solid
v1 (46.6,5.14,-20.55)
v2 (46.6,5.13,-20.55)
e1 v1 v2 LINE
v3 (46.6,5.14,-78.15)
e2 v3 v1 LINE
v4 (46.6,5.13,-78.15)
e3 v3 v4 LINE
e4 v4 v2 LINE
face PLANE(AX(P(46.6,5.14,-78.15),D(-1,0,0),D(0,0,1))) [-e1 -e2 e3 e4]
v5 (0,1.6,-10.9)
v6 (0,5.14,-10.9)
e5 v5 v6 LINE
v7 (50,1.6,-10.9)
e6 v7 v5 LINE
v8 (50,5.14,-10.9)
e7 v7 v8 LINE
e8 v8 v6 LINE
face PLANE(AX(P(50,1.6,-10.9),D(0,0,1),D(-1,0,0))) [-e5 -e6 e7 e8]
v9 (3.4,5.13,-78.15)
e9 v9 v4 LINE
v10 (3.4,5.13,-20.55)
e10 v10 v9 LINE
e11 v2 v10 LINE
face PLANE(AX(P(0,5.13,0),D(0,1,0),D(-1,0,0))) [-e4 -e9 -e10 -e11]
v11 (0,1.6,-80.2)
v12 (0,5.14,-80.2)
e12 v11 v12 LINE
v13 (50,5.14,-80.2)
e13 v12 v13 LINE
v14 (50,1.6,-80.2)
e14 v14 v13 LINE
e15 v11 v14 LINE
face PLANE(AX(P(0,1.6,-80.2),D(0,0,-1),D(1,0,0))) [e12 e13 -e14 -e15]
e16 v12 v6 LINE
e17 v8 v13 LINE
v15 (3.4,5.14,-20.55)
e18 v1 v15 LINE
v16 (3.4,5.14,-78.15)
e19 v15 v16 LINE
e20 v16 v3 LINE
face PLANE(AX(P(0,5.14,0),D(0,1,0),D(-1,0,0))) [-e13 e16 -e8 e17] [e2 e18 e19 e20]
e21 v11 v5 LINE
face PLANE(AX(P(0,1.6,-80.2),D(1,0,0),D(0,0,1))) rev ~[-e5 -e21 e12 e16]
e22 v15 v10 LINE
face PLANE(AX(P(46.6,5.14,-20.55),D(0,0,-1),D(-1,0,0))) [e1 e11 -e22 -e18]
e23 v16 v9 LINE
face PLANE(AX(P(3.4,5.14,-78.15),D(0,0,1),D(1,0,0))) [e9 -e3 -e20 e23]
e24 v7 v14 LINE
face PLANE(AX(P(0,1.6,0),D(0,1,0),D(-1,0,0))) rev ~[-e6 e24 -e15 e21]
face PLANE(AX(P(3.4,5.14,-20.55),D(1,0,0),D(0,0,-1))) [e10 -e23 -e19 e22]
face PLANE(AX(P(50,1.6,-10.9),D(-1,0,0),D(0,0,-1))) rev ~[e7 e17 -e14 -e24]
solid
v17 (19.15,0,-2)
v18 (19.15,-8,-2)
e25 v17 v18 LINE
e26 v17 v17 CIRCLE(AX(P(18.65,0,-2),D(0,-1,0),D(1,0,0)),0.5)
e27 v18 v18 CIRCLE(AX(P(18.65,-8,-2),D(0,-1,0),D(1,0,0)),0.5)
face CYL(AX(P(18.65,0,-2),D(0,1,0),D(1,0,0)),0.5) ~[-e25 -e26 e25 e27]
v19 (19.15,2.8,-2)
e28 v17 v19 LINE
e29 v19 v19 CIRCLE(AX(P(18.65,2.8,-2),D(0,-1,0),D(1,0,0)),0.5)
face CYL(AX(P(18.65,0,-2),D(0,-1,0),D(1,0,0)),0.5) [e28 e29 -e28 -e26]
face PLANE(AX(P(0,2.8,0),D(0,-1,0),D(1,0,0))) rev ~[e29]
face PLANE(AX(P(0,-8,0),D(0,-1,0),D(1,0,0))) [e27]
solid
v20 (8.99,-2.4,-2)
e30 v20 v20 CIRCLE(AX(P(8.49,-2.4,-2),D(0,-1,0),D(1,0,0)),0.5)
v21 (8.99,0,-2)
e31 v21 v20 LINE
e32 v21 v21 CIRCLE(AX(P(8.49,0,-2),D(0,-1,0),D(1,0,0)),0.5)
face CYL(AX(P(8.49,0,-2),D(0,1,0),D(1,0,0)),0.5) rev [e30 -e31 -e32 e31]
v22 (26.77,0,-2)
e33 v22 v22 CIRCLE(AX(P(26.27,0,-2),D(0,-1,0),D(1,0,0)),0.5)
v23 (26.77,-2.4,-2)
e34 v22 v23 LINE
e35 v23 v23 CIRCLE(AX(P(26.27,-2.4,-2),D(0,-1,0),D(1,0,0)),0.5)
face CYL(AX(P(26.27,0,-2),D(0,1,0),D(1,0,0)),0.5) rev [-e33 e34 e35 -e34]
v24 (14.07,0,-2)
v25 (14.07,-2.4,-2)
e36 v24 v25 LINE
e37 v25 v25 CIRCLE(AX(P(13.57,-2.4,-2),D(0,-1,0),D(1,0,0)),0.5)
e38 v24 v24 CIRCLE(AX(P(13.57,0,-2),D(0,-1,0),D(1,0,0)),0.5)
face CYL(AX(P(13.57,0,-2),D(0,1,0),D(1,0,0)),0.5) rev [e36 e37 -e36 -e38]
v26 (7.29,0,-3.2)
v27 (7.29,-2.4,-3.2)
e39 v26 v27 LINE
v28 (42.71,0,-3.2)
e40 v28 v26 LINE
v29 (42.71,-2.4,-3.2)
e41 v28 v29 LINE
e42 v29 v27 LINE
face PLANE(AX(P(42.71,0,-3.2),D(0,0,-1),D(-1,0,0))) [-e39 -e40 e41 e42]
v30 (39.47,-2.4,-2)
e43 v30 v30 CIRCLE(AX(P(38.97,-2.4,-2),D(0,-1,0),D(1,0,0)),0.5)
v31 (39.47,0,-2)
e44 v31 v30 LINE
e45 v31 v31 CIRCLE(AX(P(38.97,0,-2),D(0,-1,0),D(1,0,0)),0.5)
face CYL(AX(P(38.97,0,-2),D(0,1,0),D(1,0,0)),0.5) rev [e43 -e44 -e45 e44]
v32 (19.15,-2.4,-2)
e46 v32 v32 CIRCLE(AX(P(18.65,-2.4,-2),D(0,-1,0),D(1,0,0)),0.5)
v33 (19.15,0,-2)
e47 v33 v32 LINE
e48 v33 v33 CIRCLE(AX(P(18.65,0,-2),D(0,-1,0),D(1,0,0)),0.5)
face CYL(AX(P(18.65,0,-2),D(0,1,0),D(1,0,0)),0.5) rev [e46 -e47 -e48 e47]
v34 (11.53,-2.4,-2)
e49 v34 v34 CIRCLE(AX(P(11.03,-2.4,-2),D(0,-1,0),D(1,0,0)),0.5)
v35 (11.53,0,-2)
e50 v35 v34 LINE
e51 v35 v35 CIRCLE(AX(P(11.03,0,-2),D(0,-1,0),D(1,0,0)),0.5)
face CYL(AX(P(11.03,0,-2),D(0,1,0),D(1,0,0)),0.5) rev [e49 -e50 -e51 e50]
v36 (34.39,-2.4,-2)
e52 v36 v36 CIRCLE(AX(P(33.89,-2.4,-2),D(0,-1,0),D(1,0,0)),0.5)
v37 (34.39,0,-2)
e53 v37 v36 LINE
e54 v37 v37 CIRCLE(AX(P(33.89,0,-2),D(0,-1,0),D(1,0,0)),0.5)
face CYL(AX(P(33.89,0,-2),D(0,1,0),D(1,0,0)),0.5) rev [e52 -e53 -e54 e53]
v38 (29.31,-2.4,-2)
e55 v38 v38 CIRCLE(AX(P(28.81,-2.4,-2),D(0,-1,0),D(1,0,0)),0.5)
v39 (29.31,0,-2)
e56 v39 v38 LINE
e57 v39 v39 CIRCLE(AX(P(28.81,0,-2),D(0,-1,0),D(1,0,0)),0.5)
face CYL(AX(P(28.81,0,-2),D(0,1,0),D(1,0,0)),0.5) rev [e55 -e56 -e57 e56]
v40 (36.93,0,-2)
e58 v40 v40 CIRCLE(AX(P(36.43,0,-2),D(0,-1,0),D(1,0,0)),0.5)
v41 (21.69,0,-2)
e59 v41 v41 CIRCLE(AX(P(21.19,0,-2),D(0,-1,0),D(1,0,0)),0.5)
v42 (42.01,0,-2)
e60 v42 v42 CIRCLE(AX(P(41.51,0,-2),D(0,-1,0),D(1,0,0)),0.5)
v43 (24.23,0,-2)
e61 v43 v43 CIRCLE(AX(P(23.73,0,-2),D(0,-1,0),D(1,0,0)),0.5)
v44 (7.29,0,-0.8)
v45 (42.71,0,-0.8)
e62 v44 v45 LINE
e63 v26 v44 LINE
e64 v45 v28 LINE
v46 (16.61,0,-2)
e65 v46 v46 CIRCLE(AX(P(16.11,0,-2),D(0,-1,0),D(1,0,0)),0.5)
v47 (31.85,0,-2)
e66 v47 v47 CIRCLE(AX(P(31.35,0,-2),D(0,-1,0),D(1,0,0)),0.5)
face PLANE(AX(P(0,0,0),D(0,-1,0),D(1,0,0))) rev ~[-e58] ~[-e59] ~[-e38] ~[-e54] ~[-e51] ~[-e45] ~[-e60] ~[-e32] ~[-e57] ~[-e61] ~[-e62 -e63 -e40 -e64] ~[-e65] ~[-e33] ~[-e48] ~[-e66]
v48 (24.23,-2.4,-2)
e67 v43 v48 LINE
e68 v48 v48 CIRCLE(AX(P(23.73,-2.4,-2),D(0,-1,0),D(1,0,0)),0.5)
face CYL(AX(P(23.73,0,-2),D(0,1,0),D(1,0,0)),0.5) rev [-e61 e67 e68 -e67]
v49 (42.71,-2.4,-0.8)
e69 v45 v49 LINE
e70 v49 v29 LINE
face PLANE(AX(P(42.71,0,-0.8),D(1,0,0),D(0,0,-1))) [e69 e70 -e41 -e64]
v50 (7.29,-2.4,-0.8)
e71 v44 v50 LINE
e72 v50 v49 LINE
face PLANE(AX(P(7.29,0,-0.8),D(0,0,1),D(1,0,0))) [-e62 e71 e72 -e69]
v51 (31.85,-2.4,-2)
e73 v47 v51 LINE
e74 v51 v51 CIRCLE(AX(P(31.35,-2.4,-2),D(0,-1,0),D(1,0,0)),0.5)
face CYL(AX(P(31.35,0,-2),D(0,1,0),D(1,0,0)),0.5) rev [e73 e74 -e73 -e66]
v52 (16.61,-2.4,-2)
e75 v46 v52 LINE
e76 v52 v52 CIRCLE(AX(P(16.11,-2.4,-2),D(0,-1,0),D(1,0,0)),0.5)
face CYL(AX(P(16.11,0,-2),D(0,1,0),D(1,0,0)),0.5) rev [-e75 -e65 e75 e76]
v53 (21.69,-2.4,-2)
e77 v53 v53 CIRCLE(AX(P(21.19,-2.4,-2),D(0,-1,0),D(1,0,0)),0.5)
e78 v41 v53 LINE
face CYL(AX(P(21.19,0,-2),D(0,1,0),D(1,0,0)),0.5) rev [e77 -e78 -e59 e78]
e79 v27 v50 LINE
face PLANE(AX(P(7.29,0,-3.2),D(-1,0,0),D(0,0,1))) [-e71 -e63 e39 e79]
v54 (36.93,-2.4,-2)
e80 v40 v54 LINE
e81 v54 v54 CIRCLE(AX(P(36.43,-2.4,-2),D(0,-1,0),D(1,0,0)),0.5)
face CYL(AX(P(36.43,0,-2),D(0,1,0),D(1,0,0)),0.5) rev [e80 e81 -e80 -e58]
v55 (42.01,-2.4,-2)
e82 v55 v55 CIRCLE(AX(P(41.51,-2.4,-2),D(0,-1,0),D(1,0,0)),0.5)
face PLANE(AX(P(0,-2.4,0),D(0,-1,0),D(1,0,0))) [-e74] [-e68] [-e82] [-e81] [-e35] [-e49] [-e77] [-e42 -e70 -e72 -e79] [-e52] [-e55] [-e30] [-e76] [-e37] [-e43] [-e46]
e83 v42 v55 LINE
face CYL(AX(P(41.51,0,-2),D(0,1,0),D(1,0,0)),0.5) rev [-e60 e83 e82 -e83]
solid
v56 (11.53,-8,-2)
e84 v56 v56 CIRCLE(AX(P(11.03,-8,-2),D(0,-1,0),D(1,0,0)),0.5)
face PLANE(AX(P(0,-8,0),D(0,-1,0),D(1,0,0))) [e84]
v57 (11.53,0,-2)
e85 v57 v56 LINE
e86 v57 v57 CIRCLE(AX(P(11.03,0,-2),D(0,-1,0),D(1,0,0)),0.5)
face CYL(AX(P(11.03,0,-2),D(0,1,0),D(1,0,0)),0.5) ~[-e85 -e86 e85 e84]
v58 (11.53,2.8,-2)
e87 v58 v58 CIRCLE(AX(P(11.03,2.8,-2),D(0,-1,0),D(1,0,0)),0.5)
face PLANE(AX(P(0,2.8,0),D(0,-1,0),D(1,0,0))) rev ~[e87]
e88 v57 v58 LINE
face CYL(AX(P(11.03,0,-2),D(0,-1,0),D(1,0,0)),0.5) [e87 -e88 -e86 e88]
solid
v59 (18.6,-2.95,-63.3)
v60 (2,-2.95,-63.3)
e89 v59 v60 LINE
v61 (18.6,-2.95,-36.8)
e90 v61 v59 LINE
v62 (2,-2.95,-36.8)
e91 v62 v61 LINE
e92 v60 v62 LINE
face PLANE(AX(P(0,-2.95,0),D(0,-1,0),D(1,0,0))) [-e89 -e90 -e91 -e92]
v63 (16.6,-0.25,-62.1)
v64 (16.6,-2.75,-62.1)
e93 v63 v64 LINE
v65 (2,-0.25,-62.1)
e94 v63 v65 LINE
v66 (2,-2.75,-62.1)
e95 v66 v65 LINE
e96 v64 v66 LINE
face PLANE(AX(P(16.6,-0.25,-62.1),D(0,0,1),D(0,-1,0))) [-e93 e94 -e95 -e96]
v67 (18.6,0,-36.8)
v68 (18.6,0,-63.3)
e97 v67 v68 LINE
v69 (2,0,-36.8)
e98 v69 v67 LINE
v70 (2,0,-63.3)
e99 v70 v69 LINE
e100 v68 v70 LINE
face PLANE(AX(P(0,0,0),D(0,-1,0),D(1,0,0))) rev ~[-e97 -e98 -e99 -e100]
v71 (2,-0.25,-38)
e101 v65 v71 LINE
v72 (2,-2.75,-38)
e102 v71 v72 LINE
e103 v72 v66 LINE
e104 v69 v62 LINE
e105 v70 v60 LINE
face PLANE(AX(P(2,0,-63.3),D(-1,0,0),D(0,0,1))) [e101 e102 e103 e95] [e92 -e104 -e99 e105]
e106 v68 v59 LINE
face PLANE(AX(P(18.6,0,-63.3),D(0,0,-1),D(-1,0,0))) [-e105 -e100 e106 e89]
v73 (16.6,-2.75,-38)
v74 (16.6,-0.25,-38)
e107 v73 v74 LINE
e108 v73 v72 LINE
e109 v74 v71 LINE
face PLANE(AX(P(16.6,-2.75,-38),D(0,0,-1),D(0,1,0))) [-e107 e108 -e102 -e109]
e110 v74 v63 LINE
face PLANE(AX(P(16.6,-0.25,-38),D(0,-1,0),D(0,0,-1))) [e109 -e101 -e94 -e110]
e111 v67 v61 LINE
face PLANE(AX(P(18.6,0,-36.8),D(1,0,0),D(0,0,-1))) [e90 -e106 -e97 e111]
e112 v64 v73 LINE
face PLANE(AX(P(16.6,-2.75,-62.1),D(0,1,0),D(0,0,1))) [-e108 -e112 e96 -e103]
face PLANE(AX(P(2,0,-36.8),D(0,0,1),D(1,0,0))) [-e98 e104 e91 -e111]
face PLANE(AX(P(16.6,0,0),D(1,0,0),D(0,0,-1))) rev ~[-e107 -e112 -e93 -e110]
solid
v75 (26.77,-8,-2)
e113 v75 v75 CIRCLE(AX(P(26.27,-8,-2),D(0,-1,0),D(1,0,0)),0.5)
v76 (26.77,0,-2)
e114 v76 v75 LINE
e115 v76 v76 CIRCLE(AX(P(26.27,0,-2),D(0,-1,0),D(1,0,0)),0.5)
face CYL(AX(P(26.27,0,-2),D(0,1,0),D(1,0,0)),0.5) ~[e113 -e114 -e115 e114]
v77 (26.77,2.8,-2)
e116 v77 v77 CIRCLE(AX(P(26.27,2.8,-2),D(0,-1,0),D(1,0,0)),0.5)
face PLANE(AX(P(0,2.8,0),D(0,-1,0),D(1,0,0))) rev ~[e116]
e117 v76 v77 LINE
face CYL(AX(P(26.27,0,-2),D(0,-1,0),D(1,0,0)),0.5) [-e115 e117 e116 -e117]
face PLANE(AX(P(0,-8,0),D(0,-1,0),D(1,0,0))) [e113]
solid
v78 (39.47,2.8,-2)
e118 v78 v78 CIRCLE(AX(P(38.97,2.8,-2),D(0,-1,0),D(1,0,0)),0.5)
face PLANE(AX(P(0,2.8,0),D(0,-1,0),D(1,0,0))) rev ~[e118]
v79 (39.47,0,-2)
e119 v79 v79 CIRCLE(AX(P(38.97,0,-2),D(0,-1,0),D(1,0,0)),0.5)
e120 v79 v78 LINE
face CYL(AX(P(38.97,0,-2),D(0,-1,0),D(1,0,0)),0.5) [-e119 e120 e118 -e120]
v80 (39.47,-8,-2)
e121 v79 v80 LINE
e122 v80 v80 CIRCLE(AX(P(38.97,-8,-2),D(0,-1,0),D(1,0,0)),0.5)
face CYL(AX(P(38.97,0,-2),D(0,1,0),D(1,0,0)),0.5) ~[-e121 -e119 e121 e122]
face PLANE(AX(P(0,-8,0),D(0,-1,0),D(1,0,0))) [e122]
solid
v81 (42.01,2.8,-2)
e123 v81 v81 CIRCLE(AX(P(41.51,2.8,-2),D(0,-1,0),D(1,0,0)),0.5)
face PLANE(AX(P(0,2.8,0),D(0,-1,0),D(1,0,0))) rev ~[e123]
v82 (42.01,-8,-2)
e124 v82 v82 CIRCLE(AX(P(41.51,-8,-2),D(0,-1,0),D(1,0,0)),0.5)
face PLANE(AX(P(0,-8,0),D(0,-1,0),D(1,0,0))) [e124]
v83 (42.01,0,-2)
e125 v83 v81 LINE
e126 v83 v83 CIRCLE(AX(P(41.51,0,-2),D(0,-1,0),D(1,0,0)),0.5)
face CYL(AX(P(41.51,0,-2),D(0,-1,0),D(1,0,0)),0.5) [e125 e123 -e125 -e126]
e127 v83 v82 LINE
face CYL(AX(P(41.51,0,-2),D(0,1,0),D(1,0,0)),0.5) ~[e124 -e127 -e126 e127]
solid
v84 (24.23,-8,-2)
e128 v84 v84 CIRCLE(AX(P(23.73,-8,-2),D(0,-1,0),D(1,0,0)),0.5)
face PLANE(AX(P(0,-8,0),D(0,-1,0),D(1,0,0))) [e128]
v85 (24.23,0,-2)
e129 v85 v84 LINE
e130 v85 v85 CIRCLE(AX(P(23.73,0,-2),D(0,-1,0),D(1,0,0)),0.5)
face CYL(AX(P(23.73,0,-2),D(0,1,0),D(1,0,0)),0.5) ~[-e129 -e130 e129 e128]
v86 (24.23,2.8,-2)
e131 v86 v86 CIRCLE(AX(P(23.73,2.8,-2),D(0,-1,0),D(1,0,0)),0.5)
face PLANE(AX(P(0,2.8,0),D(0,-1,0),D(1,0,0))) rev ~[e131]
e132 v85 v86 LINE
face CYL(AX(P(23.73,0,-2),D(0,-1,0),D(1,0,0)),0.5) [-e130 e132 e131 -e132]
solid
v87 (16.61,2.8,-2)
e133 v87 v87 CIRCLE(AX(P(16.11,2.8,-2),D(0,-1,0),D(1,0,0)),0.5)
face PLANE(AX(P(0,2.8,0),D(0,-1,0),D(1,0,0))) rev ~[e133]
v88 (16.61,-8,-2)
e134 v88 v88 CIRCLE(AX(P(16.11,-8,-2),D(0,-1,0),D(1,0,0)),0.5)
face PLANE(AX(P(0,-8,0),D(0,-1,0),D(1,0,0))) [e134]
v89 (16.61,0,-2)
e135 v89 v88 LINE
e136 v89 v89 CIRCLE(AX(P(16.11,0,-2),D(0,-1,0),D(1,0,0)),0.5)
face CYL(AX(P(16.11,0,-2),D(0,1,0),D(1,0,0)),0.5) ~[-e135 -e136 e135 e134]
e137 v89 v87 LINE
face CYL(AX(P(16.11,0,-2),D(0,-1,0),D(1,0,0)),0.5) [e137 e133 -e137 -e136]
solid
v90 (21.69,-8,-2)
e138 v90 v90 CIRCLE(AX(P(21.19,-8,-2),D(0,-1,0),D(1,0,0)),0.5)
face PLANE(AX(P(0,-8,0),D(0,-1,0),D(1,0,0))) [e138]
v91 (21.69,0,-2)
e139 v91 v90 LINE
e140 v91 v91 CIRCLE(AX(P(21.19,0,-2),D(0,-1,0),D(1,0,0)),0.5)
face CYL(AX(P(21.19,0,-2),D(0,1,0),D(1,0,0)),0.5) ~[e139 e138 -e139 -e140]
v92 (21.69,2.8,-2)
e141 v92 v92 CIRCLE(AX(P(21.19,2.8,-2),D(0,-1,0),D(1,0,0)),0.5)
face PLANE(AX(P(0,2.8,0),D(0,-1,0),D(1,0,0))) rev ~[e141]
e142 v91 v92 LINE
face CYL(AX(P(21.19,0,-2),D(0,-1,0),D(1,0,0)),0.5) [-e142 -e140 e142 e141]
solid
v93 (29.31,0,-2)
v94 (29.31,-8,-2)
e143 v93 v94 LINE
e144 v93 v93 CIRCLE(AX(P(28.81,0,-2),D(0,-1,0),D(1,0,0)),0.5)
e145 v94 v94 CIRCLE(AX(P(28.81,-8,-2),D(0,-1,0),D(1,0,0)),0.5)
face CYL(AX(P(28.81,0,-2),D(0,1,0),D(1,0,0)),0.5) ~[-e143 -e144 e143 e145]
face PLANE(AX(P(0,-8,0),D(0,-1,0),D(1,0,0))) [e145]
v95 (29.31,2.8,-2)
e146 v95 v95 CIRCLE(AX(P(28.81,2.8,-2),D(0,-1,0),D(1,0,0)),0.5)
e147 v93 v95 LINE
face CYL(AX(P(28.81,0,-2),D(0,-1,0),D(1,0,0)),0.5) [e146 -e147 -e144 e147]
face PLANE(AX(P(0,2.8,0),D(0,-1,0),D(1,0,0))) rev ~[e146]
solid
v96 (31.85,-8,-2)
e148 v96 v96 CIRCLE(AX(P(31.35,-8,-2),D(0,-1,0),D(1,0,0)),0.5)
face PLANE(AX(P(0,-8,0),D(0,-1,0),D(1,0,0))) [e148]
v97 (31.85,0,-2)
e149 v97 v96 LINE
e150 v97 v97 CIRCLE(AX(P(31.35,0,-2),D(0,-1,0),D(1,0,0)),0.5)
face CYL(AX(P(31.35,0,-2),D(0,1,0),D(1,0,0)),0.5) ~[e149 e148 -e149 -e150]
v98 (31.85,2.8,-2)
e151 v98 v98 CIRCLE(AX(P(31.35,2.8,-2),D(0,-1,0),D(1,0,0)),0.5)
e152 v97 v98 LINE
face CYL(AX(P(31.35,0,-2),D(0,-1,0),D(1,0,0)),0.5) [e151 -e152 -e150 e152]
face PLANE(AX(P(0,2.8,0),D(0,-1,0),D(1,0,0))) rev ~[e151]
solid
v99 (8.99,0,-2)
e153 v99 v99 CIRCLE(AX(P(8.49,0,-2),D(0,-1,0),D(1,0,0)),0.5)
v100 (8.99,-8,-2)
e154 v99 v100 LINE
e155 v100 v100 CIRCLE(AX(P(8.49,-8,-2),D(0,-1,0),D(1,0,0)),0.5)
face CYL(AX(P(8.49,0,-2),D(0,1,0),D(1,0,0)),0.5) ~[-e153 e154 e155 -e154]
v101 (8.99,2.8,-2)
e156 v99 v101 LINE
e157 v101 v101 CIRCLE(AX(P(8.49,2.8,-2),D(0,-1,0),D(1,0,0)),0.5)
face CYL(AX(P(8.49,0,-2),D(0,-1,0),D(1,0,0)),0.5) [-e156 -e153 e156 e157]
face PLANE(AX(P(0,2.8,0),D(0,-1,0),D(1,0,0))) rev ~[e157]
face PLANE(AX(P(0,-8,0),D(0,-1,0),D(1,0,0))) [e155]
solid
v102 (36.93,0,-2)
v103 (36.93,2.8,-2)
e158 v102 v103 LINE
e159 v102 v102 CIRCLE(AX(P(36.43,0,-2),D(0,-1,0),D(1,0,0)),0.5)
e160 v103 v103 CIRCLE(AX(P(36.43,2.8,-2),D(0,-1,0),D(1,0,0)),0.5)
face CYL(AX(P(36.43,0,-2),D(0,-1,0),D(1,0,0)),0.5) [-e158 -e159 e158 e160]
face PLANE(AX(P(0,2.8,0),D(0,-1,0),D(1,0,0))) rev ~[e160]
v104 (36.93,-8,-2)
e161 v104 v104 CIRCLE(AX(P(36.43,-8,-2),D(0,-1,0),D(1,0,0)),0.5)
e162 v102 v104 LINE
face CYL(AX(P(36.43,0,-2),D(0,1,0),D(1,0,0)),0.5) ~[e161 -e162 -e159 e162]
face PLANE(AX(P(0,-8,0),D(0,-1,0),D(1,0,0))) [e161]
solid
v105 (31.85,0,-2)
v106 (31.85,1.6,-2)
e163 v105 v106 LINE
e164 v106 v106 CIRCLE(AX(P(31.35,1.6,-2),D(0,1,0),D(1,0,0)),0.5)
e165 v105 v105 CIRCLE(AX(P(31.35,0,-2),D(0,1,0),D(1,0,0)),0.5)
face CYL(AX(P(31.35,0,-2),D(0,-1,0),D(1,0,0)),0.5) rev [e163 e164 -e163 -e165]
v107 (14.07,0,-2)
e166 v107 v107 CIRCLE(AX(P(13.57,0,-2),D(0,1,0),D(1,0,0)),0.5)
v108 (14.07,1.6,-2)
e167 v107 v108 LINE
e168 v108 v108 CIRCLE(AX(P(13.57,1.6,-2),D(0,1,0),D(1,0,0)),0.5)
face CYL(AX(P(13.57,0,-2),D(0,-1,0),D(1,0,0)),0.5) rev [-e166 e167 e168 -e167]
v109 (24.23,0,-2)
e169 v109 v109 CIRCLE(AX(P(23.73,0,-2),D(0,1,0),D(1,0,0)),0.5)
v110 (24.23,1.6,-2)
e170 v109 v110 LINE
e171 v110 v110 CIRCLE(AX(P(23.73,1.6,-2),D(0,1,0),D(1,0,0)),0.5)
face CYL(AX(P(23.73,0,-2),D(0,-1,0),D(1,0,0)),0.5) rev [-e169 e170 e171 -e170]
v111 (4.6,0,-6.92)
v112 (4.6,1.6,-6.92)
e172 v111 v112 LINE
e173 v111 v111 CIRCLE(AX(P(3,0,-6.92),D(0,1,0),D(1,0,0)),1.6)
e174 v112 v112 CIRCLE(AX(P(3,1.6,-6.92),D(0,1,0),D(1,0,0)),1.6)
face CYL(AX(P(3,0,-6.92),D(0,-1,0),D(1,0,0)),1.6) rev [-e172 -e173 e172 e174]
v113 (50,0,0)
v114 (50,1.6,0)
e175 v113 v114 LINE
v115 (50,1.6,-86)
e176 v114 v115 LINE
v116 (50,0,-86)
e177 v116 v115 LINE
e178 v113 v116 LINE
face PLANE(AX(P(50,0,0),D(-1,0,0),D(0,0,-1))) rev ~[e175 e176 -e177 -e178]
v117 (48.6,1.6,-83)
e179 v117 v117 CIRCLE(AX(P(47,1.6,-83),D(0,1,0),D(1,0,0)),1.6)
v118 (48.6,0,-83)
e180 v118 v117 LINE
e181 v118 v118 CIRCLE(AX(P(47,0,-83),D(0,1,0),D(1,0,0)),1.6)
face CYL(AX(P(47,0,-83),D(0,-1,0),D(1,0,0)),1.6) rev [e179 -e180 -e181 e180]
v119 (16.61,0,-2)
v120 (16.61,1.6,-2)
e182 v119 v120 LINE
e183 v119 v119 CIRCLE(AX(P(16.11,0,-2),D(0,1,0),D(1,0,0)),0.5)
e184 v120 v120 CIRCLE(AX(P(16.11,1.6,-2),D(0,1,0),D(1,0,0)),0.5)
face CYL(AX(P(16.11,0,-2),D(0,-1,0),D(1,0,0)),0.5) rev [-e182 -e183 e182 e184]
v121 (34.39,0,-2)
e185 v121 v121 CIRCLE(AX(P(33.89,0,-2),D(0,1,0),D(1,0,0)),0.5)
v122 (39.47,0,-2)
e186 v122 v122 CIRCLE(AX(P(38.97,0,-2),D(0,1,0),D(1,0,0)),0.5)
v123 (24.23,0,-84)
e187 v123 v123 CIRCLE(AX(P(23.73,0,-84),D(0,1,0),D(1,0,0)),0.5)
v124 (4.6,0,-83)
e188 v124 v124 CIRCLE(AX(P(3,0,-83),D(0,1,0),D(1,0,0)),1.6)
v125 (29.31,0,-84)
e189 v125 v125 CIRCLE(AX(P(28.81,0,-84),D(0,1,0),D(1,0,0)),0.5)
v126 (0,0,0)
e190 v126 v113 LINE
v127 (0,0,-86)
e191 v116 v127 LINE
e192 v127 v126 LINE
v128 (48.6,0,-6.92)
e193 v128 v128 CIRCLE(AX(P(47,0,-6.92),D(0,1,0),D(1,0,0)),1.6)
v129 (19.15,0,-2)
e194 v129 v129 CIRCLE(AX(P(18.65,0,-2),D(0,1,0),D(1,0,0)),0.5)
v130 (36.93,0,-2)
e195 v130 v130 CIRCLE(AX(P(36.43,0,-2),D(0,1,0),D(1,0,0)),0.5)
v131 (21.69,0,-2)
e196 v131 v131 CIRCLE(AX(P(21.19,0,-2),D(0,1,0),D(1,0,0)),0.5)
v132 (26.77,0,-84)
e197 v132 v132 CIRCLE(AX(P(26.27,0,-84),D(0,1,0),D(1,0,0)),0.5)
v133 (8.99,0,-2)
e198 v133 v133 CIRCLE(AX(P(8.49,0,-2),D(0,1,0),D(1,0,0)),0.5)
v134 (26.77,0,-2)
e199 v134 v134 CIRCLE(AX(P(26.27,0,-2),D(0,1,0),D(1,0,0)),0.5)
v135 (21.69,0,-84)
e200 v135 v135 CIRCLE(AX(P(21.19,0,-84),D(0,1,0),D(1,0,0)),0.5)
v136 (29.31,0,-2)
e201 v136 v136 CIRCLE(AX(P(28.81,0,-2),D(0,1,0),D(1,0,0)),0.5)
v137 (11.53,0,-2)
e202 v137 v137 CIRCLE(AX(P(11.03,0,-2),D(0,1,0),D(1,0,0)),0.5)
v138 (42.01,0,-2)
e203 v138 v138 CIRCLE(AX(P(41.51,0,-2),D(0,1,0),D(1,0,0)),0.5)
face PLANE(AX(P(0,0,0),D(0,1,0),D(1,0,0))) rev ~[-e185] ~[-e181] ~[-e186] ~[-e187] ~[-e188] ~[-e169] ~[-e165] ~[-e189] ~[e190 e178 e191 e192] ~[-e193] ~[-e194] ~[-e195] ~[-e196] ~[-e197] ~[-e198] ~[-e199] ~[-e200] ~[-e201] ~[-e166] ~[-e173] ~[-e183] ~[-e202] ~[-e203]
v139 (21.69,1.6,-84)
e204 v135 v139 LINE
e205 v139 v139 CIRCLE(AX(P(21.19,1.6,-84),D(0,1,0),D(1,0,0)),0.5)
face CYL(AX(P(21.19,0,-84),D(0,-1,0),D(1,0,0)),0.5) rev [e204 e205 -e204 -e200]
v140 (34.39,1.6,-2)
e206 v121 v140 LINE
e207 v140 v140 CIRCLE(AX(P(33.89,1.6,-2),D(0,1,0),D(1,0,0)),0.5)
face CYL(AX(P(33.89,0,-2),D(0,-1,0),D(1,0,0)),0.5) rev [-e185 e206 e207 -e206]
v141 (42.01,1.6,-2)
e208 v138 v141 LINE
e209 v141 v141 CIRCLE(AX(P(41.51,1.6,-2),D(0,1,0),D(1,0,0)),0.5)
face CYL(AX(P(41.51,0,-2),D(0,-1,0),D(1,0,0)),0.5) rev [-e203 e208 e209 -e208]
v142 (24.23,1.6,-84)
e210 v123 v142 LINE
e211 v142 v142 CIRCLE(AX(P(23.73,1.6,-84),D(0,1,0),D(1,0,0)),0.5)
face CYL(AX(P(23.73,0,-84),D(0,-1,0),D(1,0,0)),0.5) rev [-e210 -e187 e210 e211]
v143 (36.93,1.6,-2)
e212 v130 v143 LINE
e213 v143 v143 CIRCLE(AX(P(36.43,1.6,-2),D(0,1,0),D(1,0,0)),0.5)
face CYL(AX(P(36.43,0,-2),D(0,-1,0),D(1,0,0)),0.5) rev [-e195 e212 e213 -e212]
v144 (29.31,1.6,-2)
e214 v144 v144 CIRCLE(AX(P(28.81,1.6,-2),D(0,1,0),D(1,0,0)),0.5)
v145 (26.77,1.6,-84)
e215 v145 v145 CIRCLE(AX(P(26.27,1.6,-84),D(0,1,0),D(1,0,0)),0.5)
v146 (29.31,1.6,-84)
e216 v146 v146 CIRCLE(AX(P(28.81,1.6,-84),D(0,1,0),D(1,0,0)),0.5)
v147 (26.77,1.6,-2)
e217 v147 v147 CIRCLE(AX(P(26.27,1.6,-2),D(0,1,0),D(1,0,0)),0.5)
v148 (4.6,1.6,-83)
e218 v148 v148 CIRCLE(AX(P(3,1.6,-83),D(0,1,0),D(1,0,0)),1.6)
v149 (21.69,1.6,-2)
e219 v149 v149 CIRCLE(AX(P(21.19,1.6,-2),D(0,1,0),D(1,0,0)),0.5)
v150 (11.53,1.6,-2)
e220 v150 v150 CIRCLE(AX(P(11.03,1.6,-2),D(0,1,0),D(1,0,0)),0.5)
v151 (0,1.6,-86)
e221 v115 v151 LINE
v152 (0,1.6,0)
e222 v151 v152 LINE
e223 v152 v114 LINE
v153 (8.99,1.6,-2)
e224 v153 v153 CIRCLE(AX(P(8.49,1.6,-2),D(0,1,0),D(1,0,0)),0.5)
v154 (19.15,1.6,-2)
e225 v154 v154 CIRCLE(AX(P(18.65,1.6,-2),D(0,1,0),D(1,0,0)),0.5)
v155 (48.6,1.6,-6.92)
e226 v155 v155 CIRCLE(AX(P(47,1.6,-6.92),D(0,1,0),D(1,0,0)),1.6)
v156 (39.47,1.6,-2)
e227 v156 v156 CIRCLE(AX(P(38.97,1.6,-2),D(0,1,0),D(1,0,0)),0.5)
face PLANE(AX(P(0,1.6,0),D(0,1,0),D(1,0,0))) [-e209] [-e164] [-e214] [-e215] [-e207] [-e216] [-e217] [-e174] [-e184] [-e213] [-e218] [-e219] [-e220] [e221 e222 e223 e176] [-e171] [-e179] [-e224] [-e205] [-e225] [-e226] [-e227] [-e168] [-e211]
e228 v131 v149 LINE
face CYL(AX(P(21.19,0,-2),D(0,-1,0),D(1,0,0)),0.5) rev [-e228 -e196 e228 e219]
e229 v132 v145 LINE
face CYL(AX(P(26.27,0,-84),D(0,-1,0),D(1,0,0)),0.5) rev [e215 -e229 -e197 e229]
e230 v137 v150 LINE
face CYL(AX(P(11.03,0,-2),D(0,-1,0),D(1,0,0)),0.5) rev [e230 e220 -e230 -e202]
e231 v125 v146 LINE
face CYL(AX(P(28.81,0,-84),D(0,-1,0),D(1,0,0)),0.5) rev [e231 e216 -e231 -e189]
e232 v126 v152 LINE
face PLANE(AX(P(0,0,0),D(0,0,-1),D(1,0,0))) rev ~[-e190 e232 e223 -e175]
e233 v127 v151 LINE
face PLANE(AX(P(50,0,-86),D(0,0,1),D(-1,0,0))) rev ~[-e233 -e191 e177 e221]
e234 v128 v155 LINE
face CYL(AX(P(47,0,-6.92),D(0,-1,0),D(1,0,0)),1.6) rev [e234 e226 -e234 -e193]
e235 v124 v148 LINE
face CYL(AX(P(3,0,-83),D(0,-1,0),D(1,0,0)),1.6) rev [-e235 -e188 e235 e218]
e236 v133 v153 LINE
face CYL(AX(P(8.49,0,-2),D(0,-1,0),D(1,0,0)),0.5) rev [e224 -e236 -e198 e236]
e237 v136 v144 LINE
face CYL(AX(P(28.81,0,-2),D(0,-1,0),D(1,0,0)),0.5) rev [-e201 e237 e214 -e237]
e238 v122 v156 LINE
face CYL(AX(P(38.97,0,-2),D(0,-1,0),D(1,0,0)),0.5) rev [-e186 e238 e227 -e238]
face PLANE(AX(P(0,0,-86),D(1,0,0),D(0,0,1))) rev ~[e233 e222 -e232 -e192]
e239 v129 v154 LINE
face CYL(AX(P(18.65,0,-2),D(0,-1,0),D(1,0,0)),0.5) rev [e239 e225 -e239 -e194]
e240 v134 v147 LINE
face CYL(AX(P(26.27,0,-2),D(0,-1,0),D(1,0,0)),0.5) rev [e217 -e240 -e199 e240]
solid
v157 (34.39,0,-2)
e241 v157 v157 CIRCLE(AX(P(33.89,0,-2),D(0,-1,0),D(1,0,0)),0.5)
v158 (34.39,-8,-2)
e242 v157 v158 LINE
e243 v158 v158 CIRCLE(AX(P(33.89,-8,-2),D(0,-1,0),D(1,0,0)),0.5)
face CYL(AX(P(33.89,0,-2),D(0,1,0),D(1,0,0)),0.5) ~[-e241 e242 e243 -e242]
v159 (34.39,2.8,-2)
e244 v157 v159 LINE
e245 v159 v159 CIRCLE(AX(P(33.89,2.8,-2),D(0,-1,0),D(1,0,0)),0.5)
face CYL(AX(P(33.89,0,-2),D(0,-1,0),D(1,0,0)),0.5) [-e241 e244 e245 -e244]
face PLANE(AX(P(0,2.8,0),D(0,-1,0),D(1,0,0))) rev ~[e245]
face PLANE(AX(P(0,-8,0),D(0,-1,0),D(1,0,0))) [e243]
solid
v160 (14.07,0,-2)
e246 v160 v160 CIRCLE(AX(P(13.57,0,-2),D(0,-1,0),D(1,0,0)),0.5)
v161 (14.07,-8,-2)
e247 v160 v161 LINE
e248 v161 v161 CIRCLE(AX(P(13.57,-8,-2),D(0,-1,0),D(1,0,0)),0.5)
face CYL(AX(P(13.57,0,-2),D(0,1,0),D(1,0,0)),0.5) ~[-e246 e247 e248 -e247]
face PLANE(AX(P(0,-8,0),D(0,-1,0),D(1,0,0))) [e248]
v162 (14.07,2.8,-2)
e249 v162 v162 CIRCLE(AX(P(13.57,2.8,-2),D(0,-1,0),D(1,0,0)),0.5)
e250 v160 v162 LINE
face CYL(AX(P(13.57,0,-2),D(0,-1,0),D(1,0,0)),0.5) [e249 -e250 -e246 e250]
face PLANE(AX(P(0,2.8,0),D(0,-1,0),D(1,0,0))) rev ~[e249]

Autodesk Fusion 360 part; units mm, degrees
sketch "Skizze1" plane through (0, 0, 0) normal (0, 1, 0) x (1, 0, 0)
  line L0 (0, 0) -> (50, 0)
  line L1 (50, 0) -> (50, 86)
  line L2 (50, 86) -> (0, 86)
  line L3 (0, 86) -> (0, 0)
  circle A0 centre (3, 83) radius 1.6
  circle A1 centre (47, 83) radius 1.6
  circle A2 centre (47, 6.92) radius 1.6
  circle A3 centre (3, 6.92) radius 1.6
  circle A4 centre (8.49, 2) radius 0.5
  circle A5 centre (11.03, 2) radius 0.5
  circle A6 centre (13.57, 2) radius 0.5
  circle A7 centre (16.11, 2) radius 0.5
  circle A8 centre (18.65, 2) radius 0.5
  circle A9 centre (21.19, 2) radius 0.5
  circle A10 centre (23.73, 2) radius 0.5
  circle A11 centre (26.27, 2) radius 0.5
  circle A12 centre (28.81, 2) radius 0.5
  circle A13 centre (31.35, 2) radius 0.5
  circle A14 centre (33.89, 2) radius 0.5
  circle A15 centre (36.43, 2) radius 0.5
  circle A16 centre (38.97, 2) radius 0.5
  circle A17 centre (41.51, 2) radius 0.5
  line L4 (25, 86) -> (25, 0) construction
  line L5 (0, 84) -> (50, 84) construction
  circle A18 centre (23.73, 84) radius 0.5
  circle A19 centre (26.27, 84) radius 0.5
  circle A20 centre (28.81, 84) radius 0.5
  circle A21 centre (21.19, 84) radius 0.5
  dimension "d1" = 50
  dimension "d2" = 86
  dimension "d3" = 3.2
  dimension "d4" = 3.2
  dimension "d5" = 3.2
  dimension "d6" = 3.2
  dimension "d7" = 6.92
  dimension "d8" = 6.92
  dimension "d9" = 3
  dimension "d10" = 3
  dimension "d11" = 3
  dimension "d12" = 3
  dimension "d13" = 3
  dimension "d14" = 3
  dimension "d15" = 1
  dimension "d16" = 8.49
  dimension "d17" = 2
  dimension "d20" = 2.54
  dimension "d21" = 0
  dimension "d22" = 8.49
  dimension "d36" = 2
  dimension "d37" = 1
  dimension "d38" = 1
  dimension "d39" = 1
  dimension "d40" = 1
  dimension "d41" = 1.27
  dimension "d42" = 1.27
  dimension "d43" = 2.54
  dimension "d44" = 2.54
extrude "Extrusion1" add sketch "Skizze1" along normal blind 1.6 makes body 1
sketch "Skizze2" plane through (0, 1.6, 0) normal (0, 1, 0) x (-1, 0, 0)
  circle A0 centre (-16.11, -2) radius 0.5
  circle A1 centre (-18.65, -2) radius 0.5
  circle A2 centre (-21.19, -2) radius 0.5
  circle A3 centre (-23.73, -2) radius 0.5
  circle A4 centre (-26.27, -2) radius 0.5
  circle A5 centre (-13.57, -2) radius 0.5
  circle A6 centre (-11.03, -2) radius 0.5
  circle A7 centre (-8.49, -2) radius 0.5
  circle A8 centre (-3, -6.92) radius 1.6
  circle A9 centre (-47, -6.92) radius 1.6
  circle A10 centre (-47, -83) radius 1.6
  circle A11 centre (-3, -83) radius 1.6
  circle A12 centre (-28.81, -2) radius 0.5
  circle A13 centre (-33.89, -2) radius 0.5
  circle A14 centre (-36.43, -2) radius 0.5
  circle A15 centre (-38.97, -2) radius 0.5
  circle A16 centre (-41.51, -2) radius 0.5
  circle A17 centre (-31.35, -2) radius 0.5
  line L0 (0, -86) -> (0, 0)
  line L1 (0, 0) -> (-50, 0)
  line L2 (-50, 0) -> (-50, -86)
  line L3 (-50, -86) -> (0, -86)
  line L4 (0, -80.2) -> (-50, -80.2)
  line L5 (-50, -80.2) -> (-50, -10.9)
  line L6 (-50, -10.9) -> (0, -10.9)
  line L7 (0, -10.9) -> (0, -80.2)
  circle A18 centre (-28.81, -84) radius 0.5
  circle A19 centre (-23.73, -84) radius 0.5
  circle A20 centre (-26.27, -84) radius 0.5
  circle A21 centre (-21.19, -84) radius 0.5
  dimension "d25" = 5.8
  dimension "d26" = 10.9
extrude "Extrusion2" add sketch "Skizze2" along normal blind 3.54 separate body contours L0 L2 L4 L5 L6 L7 makes body 2
sketch "Skizze3" plane through (0, 5.14, 0) normal (0, 1, 0) x (-1, 0, 0)
  line L0 (0, -10.9) -> (-50, -10.9)
  line L1 (-50, -10.9) -> (-50, -80.2)
  line L2 (-50, -80.2) -> (0, -80.2)
  line L3 (0, -80.2) -> (0, -10.9)
  line L4 (-3.4, -78.15) -> (-46.6, -78.15)
  line L5 (-46.6, -78.15) -> (-46.6, -20.55)
  line L6 (-46.6, -20.55) -> (-3.4, -20.55)
  line L7 (-3.4, -20.55) -> (-3.4, -78.15)
  line L8 (-25, -80.2) -> (-25, -10.9) construction
  dimension "d29" = 43.2
  dimension "d30" = 57.6
  dimension "d31" = 21.6
  dimension "d32" = 2.05
  dimension "d33" = 3.4
extrude "Extrusion3" cut sketch "Skizze3" against normal blind 0.01 contours L4 L5 L6 L7 bodies 2
sketch "Skizze4" plane through (0, 0, 0) normal (0, -1, 0) x (1, 0, 0)
  circle A0 centre (28.81, -84) radius 0.5
  circle A1 centre (41.51, -2) radius 0.5
  circle A2 centre (23.73, -84) radius 0.5
  circle A3 centre (26.27, -84) radius 0.5
  circle A4 centre (23.73, -2) radius 0.5
  circle A5 centre (21.19, -84) radius 0.5
  circle A6 centre (26.27, -2) radius 0.5
  circle A7 centre (28.81, -2) radius 0.5
  circle A8 centre (31.35, -2) radius 0.5
  circle A9 centre (33.89, -2) radius 0.5
  circle A10 centre (36.43, -2) radius 0.5
  circle A11 centre (38.97, -2) radius 0.5
  circle A12 centre (21.19, -2) radius 0.5
  circle A13 centre (18.65, -2) radius 0.5
  circle A14 centre (16.11, -2) radius 0.5
  circle A15 centre (13.57, -2) radius 0.5
  circle A16 centre (11.03, -2) radius 0.5
  circle A17 centre (8.49, -2) radius 0.5
  circle A18 centre (3, -6.92) radius 1.6
  circle A19 centre (47, -6.92) radius 1.6
  circle A20 centre (47, -83) radius 1.6
  circle A21 centre (3, -83) radius 1.6
  line L0 (0, 0) -> (0, -86)
  line L1 (0, -86) -> (50, -86)
  line L2 (50, -86) -> (50, 0)
  line L3 (50, 0) -> (0, 0)
  line L4 (2, -36.8) -> (18.6, -36.8)
  line L5 (18.6, -36.8) -> (18.6, -63.3)
  line L6 (18.6, -63.3) -> (2, -63.3)
  line L7 (2, -63.3) -> (2, -36.8)
  dimension "d45" = 16.6
  dimension "d47" = 36.8
  dimension "d48" = 22.7
  dimension "d67" = 2
extrude "Extrusion4" add sketch "Skizze4" along normal blind 2.95 separate body contours L4 L5 L6 L7 makes body 3
sketch "Skizze5" plane through (18.6, 0, 0) normal (1, 0, 0) x (0, 0, -1)
  line L0 (63.3, 0) -> (36.8, 0)
  line L1 (36.8, 0) -> (36.8, -2.95)
  line L2 (36.8, -2.95) -> (63.3, -2.95)
  line L3 (63.3, -2.95) -> (63.3, 0)
  line L4 (38, -0.25) -> (62.1, -0.25)
  line L5 (62.1, -0.25) -> (62.1, -2.75)
  line L6 (62.1, -2.75) -> (38, -2.75)
  line L7 (38, -2.75) -> (38, -0.25)
  dimension "d51" = 0.2
  dimension "d52" = 1.2
  dimension "d53" = 1.2
  dimension "d54" = 2.5
extrude "Extrusion5" cut sketch "Skizze5" against normal blind 18 from surface at -2 contours L4 L5 L6 L7 bodies 3
sketch "Skizze6" plane through (0, 0, 0) normal (0, -1, 0) x (1, 0, 0)
  circle A0 centre (28.81, -84) radius 0.5
  circle A1 centre (41.51, -2) radius 0.5
  circle A2 centre (23.73, -84) radius 0.5
  circle A3 centre (26.27, -84) radius 0.5
  circle A4 centre (23.73, -2) radius 0.5
  circle A5 centre (21.19, -84) radius 0.5
  circle A6 centre (26.27, -2) radius 0.5
  circle A7 centre (28.81, -2) radius 0.5
  circle A8 centre (31.35, -2) radius 0.5
  circle A9 centre (33.89, -2) radius 0.5
  circle A10 centre (36.43, -2) radius 0.5
  circle A11 centre (38.97, -2) radius 0.5
  circle A12 centre (21.19, -2) radius 0.5
  circle A13 centre (18.65, -2) radius 0.5
  circle A14 centre (16.11, -2) radius 0.5
  circle A15 centre (13.57, -2) radius 0.5
  circle A16 centre (11.03, -2) radius 0.5
  circle A17 centre (8.49, -2) radius 0.5
  circle A18 centre (3, -6.92) radius 1.6
  circle A19 centre (47, -6.92) radius 1.6
  circle A20 centre (47, -83) radius 1.6
  circle A21 centre (3, -83) radius 1.6
  line L0 (0, 0) -> (0, -86)
  line L1 (0, -86) -> (50, -86)
  line L2 (50, -86) -> (50, 0)
  line L3 (50, 0) -> (0, 0)
  circle A22 centre (8.49, -2) radius 0.5
  circle A23 centre (11.03, -2) radius 0.5
  circle A24 centre (13.57, -2) radius 0.5
  circle A25 centre (16.11, -2) radius 0.5
  circle A26 centre (18.65, -2) radius 0.5
  circle A27 centre (21.19, -2) radius 0.5
  circle A28 centre (23.73, -2) radius 0.5
  circle A29 centre (26.27, -2) radius 0.5
  circle A30 centre (28.81, -2) radius 0.5
  circle A31 centre (31.35, -2) radius 0.5
  circle A32 centre (33.89, -2) radius 0.5
  circle A33 centre (36.43, -2) radius 0.5
  circle A34 centre (38.97, -2) radius 0.5
  circle A35 centre (41.51, -2) radius 0.5
extrude "Extrusion6" add sketch "Skizze6" along normal blind 8 and the other way blind 2.8 separate body contours A1 A35 | A4 A28 | A6 A29 | A7 A30 | A8 A31 | A9 A32 | A10 A33 | A11 A34 | A12 A27 | A13 A26 | A14 A25 | A15 A24 | A16 A23 | A17 A22 makes body 4 at (36.0809, -5.3333, -1.6421) makes body 5 at (26.4054, -5.3333, -1.5187) makes body 6 at (16.4408, -2.6667, -2.3749) makes body 7 at (8.9894, -5.3333, -2.0249) makes body 8 at (18.3009, -5.3333, -1.6421) makes body 9 at (28.9454, -5.3333, -1.5187) makes body 10 at (38.6209, -5.3333, -1.6421) makes body 11 at (33.5409, -5.3333, -1.6421) makes body 12 at (23.8654, -5.3333, -1.5187) makes body 13 at (14.0694, -5.3333, -2.0249) makes body 14 at (11.5294, -5.3333, -2.0249) makes body 15 at (21.3254, -5.3333, -1.5187) makes body 16 at (31.8494, -5.3333, -2.0249) makes body 17 at (41.1609, -5.3333, -1.6421)
sketch "Skizze7" plane through (0, 0, 0) normal (0, -1, 0) x (1, 0, 0)
  circle A0 centre (28.81, -84) radius 0.5
  circle A1 centre (41.51, -2) radius 0.5
  circle A2 centre (23.73, -84) radius 0.5
  circle A3 centre (26.27, -84) radius 0.5
  circle A4 centre (23.73, -2) radius 0.5
  circle A5 centre (21.19, -84) radius 0.5
  circle A6 centre (26.27, -2) radius 0.5
  circle A7 centre (28.81, -2) radius 0.5
  circle A8 centre (31.35, -2) radius 0.5
  circle A9 centre (33.89, -2) radius 0.5
  circle A10 centre (36.43, -2) radius 0.5
  circle A11 centre (38.97, -2) radius 0.5
  circle A12 centre (21.19, -2) radius 0.5
  circle A13 centre (18.65, -2) radius 0.5
  circle A14 centre (16.11, -2) radius 0.5
  circle A15 centre (13.57, -2) radius 0.5
  circle A16 centre (11.03, -2) radius 0.5
  circle A17 centre (8.49, -2) radius 0.5
  circle A18 centre (3, -6.92) radius 1.6
  circle A19 centre (47, -6.92) radius 1.6
  circle A20 centre (47, -83) radius 1.6
  circle A21 centre (3, -83) radius 1.6
  line L0 (0, 0) -> (0, -86)
  line L1 (0, -86) -> (50, -86)
  line L2 (50, -86) -> (50, 0)
  line L3 (50, 0) -> (0, 0)
  line L4 (7.29, -0.8) -> (42.71, -0.8)
  line L5 (42.71, -0.8) -> (42.71, -3.2)
  line L6 (42.71, -3.2) -> (7.29, -3.2)
  line L7 (7.29, -3.2) -> (7.29, -0.8)
  dimension "d59" = 1.2
  dimension "d60" = 1.2
  dimension "d61" = 1.2
  dimension "d62" = 1.2
extrude "Extrusion7" add sketch "Skizze7" along normal blind 2.4 separate body contours L4 L5 L6 L7 makes body 18
equation "d31 = ( 43.2 / 2 ) * 1 mm"
